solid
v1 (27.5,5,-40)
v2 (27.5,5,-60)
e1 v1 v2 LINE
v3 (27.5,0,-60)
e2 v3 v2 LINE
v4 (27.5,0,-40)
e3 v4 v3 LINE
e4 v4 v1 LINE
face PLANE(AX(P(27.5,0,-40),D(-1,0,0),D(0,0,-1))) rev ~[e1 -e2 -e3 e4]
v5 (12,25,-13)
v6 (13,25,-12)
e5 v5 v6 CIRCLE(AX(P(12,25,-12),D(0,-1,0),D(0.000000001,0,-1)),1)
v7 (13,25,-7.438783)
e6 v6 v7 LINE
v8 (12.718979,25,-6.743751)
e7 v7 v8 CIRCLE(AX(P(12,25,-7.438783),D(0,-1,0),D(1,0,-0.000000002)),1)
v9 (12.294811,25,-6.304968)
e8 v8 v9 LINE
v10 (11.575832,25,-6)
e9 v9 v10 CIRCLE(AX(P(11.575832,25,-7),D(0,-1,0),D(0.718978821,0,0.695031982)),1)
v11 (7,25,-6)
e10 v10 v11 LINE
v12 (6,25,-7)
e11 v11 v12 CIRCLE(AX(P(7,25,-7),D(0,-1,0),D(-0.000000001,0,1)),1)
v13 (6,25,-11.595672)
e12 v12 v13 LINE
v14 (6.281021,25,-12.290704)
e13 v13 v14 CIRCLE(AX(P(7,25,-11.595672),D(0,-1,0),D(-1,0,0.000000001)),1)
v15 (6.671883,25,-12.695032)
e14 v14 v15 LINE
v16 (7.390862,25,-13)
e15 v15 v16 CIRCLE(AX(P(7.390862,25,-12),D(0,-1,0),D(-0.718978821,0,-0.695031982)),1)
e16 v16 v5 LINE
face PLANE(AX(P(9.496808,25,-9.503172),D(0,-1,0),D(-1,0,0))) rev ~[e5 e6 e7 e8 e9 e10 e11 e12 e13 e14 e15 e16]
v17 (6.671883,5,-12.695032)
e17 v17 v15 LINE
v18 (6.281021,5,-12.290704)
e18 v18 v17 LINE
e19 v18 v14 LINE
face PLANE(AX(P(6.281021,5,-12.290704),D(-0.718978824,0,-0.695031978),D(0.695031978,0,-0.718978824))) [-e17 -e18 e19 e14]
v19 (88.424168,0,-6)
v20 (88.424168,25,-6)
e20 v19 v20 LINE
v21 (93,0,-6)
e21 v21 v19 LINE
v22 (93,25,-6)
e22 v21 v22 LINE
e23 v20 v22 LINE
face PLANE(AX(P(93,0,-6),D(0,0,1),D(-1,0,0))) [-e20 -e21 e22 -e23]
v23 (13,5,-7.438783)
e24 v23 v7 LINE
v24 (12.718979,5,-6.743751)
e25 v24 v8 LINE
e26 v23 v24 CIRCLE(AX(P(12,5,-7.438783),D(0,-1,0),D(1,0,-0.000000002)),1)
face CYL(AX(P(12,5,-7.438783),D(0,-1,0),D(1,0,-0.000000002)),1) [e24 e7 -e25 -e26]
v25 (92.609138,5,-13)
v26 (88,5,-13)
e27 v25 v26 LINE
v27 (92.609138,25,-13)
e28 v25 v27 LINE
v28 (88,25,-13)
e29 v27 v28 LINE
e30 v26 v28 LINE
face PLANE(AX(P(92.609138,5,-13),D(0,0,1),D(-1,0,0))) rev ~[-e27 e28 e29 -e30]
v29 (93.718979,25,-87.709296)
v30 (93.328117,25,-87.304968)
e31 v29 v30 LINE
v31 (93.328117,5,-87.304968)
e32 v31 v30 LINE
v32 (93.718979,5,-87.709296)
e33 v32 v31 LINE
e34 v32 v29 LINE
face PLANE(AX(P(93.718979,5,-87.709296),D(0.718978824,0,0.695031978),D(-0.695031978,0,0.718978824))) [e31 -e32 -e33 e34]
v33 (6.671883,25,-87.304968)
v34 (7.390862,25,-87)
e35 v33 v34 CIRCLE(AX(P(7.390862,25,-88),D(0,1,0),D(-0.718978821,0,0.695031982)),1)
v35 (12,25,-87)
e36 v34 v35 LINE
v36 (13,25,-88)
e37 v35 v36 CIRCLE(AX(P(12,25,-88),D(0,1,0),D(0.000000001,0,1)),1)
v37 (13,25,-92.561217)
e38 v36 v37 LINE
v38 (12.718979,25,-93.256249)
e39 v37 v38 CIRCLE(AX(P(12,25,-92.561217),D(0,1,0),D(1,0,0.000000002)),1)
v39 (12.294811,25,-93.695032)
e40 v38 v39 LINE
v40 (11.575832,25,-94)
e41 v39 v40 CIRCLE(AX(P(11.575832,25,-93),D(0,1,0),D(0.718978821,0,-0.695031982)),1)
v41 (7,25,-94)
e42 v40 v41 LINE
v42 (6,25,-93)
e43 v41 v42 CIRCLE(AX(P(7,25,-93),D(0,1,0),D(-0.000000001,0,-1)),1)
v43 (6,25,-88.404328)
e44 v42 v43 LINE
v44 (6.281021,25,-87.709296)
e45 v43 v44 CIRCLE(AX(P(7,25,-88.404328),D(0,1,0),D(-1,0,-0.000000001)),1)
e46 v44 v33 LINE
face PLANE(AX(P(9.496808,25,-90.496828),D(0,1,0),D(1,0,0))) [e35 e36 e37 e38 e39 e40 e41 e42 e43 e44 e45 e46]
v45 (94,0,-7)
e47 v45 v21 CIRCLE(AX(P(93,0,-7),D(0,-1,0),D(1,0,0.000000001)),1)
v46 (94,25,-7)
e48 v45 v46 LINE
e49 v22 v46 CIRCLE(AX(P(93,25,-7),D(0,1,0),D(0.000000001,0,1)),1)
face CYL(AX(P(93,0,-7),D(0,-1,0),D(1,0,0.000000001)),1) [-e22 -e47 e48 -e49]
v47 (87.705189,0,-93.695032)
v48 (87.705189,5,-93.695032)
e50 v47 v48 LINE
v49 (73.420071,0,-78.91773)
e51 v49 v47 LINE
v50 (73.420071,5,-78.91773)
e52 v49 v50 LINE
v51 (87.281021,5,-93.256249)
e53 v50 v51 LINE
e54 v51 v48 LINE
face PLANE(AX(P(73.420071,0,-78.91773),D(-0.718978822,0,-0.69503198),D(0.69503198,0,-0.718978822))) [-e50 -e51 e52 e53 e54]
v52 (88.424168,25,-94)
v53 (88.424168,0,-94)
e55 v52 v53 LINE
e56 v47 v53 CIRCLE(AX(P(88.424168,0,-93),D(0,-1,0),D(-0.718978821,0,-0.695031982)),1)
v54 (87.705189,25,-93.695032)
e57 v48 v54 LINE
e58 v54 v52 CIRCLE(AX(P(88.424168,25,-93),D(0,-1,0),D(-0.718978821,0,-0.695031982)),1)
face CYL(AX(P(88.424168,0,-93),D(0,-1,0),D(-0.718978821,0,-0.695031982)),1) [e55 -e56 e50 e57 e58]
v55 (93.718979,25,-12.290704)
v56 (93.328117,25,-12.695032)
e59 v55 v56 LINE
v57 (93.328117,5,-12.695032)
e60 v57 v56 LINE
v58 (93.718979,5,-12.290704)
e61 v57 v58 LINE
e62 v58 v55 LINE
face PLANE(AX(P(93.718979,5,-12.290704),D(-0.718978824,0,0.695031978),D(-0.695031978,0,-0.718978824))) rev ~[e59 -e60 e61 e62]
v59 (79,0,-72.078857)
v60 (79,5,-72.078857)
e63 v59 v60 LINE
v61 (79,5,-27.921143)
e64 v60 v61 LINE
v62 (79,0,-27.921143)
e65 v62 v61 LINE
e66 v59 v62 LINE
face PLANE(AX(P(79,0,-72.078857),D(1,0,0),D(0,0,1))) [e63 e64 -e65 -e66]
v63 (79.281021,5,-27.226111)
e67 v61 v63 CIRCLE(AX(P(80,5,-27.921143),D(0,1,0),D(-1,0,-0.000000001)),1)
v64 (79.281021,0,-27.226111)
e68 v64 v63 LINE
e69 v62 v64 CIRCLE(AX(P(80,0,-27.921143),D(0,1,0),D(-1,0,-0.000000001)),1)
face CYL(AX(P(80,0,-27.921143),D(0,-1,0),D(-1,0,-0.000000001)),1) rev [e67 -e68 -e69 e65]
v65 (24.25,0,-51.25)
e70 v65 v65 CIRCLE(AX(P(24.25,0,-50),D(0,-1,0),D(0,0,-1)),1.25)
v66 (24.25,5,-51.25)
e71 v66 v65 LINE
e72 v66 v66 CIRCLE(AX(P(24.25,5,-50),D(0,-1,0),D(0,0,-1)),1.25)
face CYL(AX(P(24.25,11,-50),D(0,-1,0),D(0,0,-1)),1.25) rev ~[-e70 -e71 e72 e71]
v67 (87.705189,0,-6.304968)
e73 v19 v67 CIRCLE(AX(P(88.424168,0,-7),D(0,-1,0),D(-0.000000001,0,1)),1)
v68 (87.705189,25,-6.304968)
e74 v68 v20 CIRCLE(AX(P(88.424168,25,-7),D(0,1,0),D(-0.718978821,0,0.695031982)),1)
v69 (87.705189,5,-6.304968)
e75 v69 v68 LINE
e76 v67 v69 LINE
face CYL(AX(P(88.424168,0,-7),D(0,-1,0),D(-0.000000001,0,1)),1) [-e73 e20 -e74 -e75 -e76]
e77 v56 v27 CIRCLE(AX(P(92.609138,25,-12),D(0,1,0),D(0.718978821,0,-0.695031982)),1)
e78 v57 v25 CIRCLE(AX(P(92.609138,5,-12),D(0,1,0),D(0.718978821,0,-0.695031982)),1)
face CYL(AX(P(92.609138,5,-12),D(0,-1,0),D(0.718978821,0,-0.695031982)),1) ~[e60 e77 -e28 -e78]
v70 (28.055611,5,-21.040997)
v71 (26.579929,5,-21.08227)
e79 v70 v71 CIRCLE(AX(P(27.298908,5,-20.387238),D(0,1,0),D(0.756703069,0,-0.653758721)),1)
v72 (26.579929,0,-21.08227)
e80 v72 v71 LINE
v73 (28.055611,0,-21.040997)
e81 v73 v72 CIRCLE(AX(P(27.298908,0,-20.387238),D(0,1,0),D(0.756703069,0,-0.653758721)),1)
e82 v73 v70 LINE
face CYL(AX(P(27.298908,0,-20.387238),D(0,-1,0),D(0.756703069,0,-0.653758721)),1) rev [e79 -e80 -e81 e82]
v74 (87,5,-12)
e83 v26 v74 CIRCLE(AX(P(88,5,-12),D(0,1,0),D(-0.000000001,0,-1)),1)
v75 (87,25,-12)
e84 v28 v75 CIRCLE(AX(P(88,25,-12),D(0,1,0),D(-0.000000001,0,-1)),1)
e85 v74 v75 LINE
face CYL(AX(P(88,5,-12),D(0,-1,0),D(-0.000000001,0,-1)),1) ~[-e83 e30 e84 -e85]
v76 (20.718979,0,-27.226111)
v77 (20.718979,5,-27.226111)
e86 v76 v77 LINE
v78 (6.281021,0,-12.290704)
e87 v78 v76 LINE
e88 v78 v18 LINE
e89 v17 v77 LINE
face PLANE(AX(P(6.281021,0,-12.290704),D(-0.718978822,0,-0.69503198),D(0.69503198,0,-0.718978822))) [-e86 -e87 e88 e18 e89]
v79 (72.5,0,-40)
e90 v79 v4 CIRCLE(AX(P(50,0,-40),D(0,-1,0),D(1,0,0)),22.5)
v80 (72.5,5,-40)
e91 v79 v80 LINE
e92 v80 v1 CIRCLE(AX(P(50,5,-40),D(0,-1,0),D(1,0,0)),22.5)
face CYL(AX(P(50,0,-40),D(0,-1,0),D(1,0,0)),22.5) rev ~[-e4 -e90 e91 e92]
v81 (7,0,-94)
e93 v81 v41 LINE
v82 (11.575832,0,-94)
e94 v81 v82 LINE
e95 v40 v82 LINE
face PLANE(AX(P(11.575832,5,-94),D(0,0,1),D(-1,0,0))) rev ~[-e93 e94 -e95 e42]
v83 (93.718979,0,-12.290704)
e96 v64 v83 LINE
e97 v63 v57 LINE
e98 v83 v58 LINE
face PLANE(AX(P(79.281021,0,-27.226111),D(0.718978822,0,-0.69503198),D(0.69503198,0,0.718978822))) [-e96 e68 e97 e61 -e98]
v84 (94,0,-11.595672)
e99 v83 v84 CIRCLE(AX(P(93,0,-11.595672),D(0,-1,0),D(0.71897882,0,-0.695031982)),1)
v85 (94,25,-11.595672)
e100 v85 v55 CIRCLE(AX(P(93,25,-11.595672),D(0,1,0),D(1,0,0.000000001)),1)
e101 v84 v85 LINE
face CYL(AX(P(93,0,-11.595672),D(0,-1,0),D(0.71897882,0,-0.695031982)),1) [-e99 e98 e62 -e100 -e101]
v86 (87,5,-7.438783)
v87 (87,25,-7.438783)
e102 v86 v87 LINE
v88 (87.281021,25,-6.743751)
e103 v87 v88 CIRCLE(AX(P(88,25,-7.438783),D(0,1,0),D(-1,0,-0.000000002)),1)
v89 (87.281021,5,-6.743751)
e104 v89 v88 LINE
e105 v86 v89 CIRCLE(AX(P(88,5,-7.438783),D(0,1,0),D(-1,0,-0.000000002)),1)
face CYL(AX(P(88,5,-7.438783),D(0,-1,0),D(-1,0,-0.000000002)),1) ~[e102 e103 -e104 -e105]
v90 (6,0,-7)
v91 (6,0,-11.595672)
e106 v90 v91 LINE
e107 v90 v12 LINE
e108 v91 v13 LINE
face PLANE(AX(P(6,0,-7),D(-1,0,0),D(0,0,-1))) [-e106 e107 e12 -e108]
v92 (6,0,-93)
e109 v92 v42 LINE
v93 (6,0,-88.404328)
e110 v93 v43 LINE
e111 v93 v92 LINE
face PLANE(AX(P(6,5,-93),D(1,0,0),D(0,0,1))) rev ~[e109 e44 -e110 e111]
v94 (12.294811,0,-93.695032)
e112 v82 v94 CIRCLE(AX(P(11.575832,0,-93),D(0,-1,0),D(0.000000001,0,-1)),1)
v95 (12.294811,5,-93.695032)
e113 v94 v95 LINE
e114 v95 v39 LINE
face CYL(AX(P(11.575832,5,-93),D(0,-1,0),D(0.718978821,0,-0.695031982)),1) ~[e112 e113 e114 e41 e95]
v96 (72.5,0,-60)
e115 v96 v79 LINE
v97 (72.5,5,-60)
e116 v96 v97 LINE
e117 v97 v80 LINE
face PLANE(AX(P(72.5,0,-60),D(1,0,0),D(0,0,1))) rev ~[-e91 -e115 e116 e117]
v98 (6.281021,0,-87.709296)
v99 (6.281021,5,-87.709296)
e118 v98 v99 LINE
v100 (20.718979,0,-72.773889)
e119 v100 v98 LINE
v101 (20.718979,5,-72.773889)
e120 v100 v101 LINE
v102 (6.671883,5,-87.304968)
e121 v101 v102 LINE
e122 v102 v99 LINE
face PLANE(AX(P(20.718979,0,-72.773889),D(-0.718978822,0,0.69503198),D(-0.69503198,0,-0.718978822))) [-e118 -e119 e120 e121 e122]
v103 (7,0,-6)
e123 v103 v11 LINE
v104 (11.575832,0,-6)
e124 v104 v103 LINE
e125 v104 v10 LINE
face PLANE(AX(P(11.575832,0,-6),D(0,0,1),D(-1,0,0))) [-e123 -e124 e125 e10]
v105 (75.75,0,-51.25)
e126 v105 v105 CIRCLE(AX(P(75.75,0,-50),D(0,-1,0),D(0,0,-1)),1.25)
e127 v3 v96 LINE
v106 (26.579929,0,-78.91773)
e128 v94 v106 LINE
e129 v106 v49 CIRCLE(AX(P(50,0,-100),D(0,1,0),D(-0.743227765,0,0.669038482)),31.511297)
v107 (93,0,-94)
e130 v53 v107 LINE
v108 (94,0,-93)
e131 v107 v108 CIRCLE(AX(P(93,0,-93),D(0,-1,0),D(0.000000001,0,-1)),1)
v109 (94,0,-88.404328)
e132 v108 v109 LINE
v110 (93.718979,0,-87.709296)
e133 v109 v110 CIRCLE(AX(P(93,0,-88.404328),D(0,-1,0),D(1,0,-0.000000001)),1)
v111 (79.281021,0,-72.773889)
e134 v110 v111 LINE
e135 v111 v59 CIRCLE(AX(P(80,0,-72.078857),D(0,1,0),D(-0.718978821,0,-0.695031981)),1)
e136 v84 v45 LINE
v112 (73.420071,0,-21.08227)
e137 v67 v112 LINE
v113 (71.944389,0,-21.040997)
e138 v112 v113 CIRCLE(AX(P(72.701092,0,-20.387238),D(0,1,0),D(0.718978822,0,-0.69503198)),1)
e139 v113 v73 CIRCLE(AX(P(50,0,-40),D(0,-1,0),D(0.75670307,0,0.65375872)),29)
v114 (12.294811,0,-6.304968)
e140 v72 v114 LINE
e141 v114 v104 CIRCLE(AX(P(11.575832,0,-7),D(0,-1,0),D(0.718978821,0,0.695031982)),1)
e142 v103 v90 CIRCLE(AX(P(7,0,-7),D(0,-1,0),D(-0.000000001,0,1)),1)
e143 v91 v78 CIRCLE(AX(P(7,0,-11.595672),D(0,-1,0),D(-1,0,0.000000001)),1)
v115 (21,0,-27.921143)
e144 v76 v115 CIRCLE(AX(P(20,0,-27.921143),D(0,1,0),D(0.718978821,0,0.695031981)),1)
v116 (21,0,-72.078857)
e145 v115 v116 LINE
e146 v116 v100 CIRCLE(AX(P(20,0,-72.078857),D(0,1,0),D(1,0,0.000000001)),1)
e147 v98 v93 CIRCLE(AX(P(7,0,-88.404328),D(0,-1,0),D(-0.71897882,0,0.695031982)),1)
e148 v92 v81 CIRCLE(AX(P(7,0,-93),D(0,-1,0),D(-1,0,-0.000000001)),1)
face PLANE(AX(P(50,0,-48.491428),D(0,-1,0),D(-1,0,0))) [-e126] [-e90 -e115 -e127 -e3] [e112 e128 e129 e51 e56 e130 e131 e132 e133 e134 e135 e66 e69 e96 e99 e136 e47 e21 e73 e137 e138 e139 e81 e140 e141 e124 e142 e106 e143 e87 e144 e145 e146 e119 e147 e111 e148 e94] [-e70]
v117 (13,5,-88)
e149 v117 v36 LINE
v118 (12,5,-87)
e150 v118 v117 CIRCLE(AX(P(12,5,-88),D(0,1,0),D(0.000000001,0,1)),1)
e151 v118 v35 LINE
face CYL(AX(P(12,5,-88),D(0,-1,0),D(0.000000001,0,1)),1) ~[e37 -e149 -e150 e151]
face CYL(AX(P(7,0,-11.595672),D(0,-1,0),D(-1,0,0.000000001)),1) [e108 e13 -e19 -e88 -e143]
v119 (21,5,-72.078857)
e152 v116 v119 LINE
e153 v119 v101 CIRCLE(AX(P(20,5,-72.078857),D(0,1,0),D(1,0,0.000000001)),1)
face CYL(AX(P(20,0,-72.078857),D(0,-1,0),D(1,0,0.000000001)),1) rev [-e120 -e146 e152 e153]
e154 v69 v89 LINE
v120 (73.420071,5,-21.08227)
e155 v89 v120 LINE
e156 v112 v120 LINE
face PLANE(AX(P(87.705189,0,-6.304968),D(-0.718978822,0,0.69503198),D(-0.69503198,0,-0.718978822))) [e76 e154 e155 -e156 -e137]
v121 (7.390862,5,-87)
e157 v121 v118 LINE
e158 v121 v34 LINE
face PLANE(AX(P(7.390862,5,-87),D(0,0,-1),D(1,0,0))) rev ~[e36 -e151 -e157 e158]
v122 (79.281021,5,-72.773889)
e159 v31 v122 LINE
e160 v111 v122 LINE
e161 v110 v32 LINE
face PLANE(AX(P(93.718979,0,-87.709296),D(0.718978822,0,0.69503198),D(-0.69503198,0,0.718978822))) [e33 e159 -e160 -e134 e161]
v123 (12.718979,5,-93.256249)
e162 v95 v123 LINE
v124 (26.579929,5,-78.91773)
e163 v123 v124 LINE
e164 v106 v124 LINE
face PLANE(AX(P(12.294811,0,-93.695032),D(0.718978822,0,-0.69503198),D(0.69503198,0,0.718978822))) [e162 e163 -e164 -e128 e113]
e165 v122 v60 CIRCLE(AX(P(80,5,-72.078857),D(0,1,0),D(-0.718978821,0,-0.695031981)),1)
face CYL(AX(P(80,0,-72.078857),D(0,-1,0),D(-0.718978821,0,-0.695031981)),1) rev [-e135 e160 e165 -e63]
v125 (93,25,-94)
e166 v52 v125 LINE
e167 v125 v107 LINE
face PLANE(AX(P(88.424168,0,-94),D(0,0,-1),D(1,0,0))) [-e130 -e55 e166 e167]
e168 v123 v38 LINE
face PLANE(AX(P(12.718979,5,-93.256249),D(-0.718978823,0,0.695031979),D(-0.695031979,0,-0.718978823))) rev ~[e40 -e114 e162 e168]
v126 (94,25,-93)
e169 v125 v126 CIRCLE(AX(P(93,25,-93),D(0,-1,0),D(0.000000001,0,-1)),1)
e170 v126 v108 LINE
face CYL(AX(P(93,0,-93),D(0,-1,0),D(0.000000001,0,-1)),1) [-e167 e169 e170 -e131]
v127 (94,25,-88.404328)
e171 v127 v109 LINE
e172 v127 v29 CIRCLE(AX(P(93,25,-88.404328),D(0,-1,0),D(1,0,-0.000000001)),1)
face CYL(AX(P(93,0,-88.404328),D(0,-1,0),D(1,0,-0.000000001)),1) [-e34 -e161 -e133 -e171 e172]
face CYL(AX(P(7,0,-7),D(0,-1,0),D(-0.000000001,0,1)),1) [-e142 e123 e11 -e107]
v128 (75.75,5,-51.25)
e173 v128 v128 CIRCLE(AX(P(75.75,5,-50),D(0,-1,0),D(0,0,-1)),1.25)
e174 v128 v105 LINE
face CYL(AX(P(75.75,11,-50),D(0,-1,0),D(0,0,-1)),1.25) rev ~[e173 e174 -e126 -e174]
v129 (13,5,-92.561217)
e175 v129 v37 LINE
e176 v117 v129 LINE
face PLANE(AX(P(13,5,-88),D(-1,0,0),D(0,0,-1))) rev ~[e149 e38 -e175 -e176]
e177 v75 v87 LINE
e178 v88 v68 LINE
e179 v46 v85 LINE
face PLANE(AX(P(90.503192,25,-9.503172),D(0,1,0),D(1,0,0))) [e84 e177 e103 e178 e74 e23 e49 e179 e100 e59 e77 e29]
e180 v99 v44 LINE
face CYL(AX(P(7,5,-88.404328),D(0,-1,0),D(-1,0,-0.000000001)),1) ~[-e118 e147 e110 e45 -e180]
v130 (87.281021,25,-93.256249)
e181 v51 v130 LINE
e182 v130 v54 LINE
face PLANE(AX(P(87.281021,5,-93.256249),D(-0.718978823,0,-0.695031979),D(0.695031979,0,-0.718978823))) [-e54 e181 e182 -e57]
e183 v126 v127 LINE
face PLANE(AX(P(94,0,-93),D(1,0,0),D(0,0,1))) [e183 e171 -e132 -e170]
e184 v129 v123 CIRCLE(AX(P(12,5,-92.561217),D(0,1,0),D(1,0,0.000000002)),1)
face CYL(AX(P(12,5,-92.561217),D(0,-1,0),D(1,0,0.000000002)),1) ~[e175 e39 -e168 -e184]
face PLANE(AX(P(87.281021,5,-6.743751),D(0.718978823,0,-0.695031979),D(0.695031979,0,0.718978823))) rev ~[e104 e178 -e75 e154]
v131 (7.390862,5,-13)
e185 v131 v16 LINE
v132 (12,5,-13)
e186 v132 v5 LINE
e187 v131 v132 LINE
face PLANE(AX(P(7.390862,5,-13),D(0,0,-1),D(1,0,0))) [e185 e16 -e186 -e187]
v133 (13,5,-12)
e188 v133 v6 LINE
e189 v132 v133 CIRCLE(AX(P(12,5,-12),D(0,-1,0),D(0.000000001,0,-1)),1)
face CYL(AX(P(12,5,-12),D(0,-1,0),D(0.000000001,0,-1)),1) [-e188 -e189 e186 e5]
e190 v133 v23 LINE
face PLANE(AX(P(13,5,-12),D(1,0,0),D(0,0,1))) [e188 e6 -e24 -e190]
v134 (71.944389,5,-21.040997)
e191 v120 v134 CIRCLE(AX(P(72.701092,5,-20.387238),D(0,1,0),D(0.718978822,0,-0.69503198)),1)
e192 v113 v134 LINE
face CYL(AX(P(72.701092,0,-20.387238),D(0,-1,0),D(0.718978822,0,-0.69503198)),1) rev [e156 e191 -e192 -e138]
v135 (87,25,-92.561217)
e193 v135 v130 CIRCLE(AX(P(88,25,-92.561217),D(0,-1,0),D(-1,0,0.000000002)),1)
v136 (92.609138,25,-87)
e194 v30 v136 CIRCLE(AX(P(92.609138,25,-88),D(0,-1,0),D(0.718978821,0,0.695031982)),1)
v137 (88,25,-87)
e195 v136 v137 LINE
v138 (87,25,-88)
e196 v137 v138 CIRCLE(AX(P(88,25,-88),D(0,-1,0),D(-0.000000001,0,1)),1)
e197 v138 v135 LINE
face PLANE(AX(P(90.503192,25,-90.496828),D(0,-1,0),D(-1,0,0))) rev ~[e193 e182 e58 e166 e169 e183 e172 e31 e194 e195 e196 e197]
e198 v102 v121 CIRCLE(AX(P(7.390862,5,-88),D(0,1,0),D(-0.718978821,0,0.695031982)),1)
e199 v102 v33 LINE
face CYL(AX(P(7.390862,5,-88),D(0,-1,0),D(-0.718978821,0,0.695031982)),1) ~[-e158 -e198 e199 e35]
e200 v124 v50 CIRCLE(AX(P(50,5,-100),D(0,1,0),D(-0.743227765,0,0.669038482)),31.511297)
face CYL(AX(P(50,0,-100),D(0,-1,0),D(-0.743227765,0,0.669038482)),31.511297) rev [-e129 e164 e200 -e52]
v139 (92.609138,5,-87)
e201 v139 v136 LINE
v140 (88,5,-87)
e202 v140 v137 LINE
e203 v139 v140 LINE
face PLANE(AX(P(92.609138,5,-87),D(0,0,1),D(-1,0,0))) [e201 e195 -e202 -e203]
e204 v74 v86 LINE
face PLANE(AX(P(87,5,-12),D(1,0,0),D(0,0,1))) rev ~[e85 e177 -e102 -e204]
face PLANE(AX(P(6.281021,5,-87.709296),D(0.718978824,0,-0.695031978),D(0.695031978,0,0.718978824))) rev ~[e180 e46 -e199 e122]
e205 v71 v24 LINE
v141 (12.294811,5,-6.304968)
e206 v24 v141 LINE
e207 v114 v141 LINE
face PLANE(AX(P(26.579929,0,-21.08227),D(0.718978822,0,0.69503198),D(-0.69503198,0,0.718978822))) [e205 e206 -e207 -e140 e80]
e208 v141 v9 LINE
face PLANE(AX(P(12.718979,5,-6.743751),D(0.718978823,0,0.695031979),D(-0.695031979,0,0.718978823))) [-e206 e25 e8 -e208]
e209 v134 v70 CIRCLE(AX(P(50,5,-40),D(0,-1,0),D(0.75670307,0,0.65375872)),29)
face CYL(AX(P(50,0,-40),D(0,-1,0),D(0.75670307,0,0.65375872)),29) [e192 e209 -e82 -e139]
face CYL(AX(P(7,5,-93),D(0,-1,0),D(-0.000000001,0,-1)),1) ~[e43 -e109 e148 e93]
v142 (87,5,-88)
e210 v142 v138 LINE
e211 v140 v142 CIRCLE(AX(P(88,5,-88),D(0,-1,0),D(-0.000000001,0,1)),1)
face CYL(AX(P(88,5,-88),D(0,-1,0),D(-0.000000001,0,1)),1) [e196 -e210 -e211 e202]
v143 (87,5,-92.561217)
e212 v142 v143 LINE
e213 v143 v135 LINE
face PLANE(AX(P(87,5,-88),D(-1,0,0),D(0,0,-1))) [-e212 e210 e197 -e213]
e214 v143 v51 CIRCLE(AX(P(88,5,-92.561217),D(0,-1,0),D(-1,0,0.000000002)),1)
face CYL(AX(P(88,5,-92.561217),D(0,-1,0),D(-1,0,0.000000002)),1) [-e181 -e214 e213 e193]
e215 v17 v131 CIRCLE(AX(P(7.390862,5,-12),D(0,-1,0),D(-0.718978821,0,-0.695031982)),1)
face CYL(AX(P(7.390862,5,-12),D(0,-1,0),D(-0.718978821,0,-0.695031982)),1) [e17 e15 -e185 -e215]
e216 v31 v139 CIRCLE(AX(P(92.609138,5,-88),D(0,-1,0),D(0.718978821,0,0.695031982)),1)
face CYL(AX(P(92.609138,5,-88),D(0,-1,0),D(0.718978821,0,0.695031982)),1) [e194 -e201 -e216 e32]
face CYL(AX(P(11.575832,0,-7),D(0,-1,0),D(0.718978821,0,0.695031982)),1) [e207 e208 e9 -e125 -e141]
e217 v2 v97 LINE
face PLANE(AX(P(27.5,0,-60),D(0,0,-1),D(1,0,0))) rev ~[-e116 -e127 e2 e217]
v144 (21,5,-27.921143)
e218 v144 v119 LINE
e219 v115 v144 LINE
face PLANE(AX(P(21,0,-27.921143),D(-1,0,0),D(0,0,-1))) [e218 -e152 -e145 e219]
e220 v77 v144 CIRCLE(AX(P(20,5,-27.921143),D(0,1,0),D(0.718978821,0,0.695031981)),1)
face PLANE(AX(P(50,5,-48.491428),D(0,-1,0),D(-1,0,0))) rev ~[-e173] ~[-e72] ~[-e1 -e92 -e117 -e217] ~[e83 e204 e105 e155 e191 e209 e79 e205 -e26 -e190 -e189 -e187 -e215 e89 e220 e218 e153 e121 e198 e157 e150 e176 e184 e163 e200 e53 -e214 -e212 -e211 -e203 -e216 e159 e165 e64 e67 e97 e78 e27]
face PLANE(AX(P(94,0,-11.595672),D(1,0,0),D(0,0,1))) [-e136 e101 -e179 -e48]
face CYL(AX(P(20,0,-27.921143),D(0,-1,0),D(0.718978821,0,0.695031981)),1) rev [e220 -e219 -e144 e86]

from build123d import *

# Parameters (mm, degrees)
BOSS_EXTRUDE1_DEPTH             = 5
BOSS_EXTRUDE2_DEPTH             = 20
TAP_DRILL_FOR_M3X0_5_TAP1_D     = 2.5
TAP_DRILL_FOR_M3X0_5_TAP1_DEPTH = 6
TAP_DRILL_FOR_M3X0_5_TAP1_TIP   = 0.751075774


with BuildPart() as part:
    # Sketch1 → Boss-Extrude1 (new body)
    with BuildSketch(Plane(origin=(0, 0, 0), x_dir=(1, 0, 0), z_dir=(0, 1, 0))):
        with BuildLine():
            Line((21, 27.921142965), (21, 72.078857035))
            ThreePointArc((21, 72.078857035), (20.927086518, 72.453704455), (20.718978822, 72.773889015))
            Line((20.718978822, 72.773889015), (6.281021178, 87.709296434))
            ThreePointArc((6.281021178, 87.709296434), (6.072913482, 88.029480993), (6, 88.404328413))
            Line((6, 88.404328413), (6, 93))
            ThreePointArc((6, 93), (6.292893219, 93.707106781), (7, 94))
            Line((7, 94), (11.575831706, 94))
            ThreePointArc((11.575831706, 94), (11.966323717, 93.920606316), (12.294810529, 93.69503198))
            Line((12.294810529, 93.69503198), (26.579929079, 78.91772962))
            ThreePointArc((26.579929079, 78.91772962), (50, 68.488702878), (73.420070921, 78.91772962))
            Line((73.420070921, 78.91772962), (87.705189471, 93.69503198))
            ThreePointArc((87.705189471, 93.69503198), (88.033676283, 93.920606316), (88.424168294, 94))
            Line((88.424168294, 94), (93, 94))
            ThreePointArc((93, 94), (93.707106781, 93.707106781), (94, 93))
            Line((94, 93), (94, 88.404328413))
            ThreePointArc((94, 88.404328413), (93.927086518, 88.029480993), (93.718978822, 87.709296434))
            Line((93.718978822, 87.709296434), (79.281021178, 72.773889015))
            ThreePointArc((79.281021178, 72.773889015), (79.072913482, 72.453704455), (79, 72.078857035))
            Line((79, 72.078857035), (79, 27.921142965))
            ThreePointArc((79, 27.921142965), (79.072913482, 27.546295545), (79.281021178, 27.226110985))
            Line((79.281021178, 27.226110985), (93.718978822, 12.290703566))
            ThreePointArc((93.718978822, 12.290703566), (93.927086518, 11.970519007), (94, 11.595671587))
            Line((94, 11.595671587), (94, 7))
            ThreePointArc((94, 7), (93.707106781, 6.292893219), (93, 6))
            Line((93, 6), (88.424168294, 6))
            ThreePointArc((88.424168294, 6), (88.033676283, 6.079393684), (87.705189471, 6.30496802))
            Line((87.705189471, 6.30496802), (73.420070921, 21.08227038))
            ThreePointArc((73.420070921, 21.08227038), (72.67313409, 21.386847499), (71.944389028, 21.040997121))
            ThreePointArc((71.944389028, 21.040997121), (50, 11), (28.055610972, 21.040997121))
            ThreePointArc((28.055610972, 21.040997121), (27.32686591, 21.386847499), (26.579929079, 21.08227038))
            Line((26.579929079, 21.08227038), (12.294810529, 6.30496802))
            ThreePointArc((12.294810529, 6.30496802), (11.966323717, 6.079393684), (11.575831706, 6))
            Line((11.575831706, 6), (7, 6))
            ThreePointArc((7, 6), (6.292893219, 6.292893219), (6, 7))
            Line((6, 7), (6, 11.595671587))
            ThreePointArc((6, 11.595671587), (6.072913482, 11.970519007), (6.281021178, 12.290703566))
            Line((6.281021178, 12.290703566), (20.718978822, 27.226110985))
            ThreePointArc((20.718978822, 27.226110985), (20.927086518, 27.546295545), (21, 27.921142965))
        make_face()
        with BuildLine():
            Line((27.5, 40), (27.5, 60))
            Line((27.5, 60), (72.5, 60))
            Line((72.5, 60), (72.5, 40))
            ThreePointArc((72.5, 40), (50, 17.5), (27.5, 40))
        make_face(mode=Mode.SUBTRACT)
    extrude(amount=BOSS_EXTRUDE1_DEPTH)

    # Sketch2 → Boss-Extrude2 (add)
    with BuildSketch(Plane(origin=(0, 5, 0), x_dir=(1, 0, 0), z_dir=(0, 1, 0))):
        with BuildLine():
            Line((11.575831706, 94), (7, 94))
            ThreePointArc((7, 94), (6.292893219, 93.707106781), (6, 93))
            Line((6, 93), (6, 88.404328413))
            ThreePointArc((6, 88.404328413), (6.072913482, 88.029480993), (6.281021178, 87.709296434))
            Line((6.281021178, 87.709296434), (6.671882728, 87.30496802))
            ThreePointArc((6.671882728, 87.30496802), (7.00036954, 87.079393684), (7.390861551, 87))
            Line((7.390861551, 87), (12, 87))
            ThreePointArc((12, 87), (12.707106781, 87.292893219), (13, 88))
            Line((13, 88), (13, 92.561217283))
            ThreePointArc((13, 92.561217283), (12.927086518, 92.936064704), (12.718978822, 93.256249263))
            Line((12.718978822, 93.256249263), (12.294810529, 93.69503198))
            ThreePointArc((12.294810529, 93.69503198), (11.966323717, 93.920606316), (11.575831706, 94))
        make_face()
        with BuildLine():
            Line((87, 88), (87, 92.561217283))
            ThreePointArc((87, 92.561217283), (87.072913482, 92.936064704), (87.281021178, 93.256249263))
            Line((87.281021178, 93.256249263), (87.705189471, 93.69503198))
            ThreePointArc((87.705189471, 93.69503198), (88.033676283, 93.920606316), (88.424168294, 94))
            Line((88.424168294, 94), (93, 94))
            ThreePointArc((93, 94), (93.707106781, 93.707106781), (94, 93))
            Line((94, 93), (94, 88.404328413))
            ThreePointArc((94, 88.404328413), (93.927086518, 88.029480993), (93.718978822, 87.709296434))
            Line((93.718978822, 87.709296434), (93.328117272, 87.30496802))
            ThreePointArc((93.328117272, 87.30496802), (92.99963046, 87.079393684), (92.609138449, 87))
            Line((92.609138449, 87), (88, 87))
            ThreePointArc((88, 87), (87.292893219, 87.292893219), (87, 88))
        make_face()
        with BuildLine():
            Line((88.424168294, 6), (93, 6))
            ThreePointArc((93, 6), (93.707106781, 6.292893219), (94, 7))
            Line((94, 7), (94, 11.595671587))
            ThreePointArc((94, 11.595671587), (93.927086518, 11.970519007), (93.718978822, 12.290703566))
            Line((93.718978822, 12.290703566), (93.328117272, 12.69503198))
            ThreePointArc((93.328117272, 12.69503198), (92.99963046, 12.920606316), (92.609138449, 13))
            Line((92.609138449, 13), (88, 13))
            ThreePointArc((88, 13), (87.292893219, 12.707106781), (87, 12))
            Line((87, 12), (87, 7.438782717))
            ThreePointArc((87, 7.438782717), (87.072913482, 7.063935296), (87.281021178, 6.743750737))
            Line((87.281021178, 6.743750737), (87.705189471, 6.30496802))
            ThreePointArc((87.705189471, 6.30496802), (88.033676283, 6.079393684), (88.424168294, 6))
        make_face()
        with BuildLine():
            Line((13, 12), (13, 7.438782717))
            ThreePointArc((13, 7.438782717), (12.927086518, 7.063935296), (12.718978822, 6.743750737))
            Line((12.718978822, 6.743750737), (12.294810529, 6.30496802))
            ThreePointArc((12.294810529, 6.30496802), (11.966323717, 6.079393684), (11.575831706, 6))
            Line((11.575831706, 6), (7, 6))
            ThreePointArc((7, 6), (6.292893219, 6.292893219), (6, 7))
            Line((6, 7), (6, 11.595671587))
            ThreePointArc((6, 11.595671587), (6.072913482, 11.970519007), (6.281021178, 12.290703566))
            Line((6.281021178, 12.290703566), (6.671882728, 12.69503198))
            ThreePointArc((6.671882728, 12.69503198), (7.00036954, 12.920606316), (7.390861551, 13))
            Line((7.390861551, 13), (12, 13))
            ThreePointArc((12, 13), (12.707106781, 12.707106781), (13, 12))
        make_face()
    extrude(amount=BOSS_EXTRUDE2_DEPTH)

    # Tap Drill for M3x0.5 Tap1
    with Locations(Plane(origin=(24.25, 5, -50), x_dir=(0, 0, 1), z_dir=(0, 1, 0))):
        with Locations((0, 0), (0, 51.5)):
            Hole(TAP_DRILL_FOR_M3X0_5_TAP1_D / 2, depth=TAP_DRILL_FOR_M3X0_5_TAP1_DEPTH)
            with Locations((0, 0, -(TAP_DRILL_FOR_M3X0_5_TAP1_DEPTH + TAP_DRILL_FOR_M3X0_5_TAP1_TIP / 2))):  # 118° drill point
                Cone(0, TAP_DRILL_FOR_M3X0_5_TAP1_D / 2, TAP_DRILL_FOR_M3X0_5_TAP1_TIP, mode=Mode.SUBTRACT)


solid = part.part
